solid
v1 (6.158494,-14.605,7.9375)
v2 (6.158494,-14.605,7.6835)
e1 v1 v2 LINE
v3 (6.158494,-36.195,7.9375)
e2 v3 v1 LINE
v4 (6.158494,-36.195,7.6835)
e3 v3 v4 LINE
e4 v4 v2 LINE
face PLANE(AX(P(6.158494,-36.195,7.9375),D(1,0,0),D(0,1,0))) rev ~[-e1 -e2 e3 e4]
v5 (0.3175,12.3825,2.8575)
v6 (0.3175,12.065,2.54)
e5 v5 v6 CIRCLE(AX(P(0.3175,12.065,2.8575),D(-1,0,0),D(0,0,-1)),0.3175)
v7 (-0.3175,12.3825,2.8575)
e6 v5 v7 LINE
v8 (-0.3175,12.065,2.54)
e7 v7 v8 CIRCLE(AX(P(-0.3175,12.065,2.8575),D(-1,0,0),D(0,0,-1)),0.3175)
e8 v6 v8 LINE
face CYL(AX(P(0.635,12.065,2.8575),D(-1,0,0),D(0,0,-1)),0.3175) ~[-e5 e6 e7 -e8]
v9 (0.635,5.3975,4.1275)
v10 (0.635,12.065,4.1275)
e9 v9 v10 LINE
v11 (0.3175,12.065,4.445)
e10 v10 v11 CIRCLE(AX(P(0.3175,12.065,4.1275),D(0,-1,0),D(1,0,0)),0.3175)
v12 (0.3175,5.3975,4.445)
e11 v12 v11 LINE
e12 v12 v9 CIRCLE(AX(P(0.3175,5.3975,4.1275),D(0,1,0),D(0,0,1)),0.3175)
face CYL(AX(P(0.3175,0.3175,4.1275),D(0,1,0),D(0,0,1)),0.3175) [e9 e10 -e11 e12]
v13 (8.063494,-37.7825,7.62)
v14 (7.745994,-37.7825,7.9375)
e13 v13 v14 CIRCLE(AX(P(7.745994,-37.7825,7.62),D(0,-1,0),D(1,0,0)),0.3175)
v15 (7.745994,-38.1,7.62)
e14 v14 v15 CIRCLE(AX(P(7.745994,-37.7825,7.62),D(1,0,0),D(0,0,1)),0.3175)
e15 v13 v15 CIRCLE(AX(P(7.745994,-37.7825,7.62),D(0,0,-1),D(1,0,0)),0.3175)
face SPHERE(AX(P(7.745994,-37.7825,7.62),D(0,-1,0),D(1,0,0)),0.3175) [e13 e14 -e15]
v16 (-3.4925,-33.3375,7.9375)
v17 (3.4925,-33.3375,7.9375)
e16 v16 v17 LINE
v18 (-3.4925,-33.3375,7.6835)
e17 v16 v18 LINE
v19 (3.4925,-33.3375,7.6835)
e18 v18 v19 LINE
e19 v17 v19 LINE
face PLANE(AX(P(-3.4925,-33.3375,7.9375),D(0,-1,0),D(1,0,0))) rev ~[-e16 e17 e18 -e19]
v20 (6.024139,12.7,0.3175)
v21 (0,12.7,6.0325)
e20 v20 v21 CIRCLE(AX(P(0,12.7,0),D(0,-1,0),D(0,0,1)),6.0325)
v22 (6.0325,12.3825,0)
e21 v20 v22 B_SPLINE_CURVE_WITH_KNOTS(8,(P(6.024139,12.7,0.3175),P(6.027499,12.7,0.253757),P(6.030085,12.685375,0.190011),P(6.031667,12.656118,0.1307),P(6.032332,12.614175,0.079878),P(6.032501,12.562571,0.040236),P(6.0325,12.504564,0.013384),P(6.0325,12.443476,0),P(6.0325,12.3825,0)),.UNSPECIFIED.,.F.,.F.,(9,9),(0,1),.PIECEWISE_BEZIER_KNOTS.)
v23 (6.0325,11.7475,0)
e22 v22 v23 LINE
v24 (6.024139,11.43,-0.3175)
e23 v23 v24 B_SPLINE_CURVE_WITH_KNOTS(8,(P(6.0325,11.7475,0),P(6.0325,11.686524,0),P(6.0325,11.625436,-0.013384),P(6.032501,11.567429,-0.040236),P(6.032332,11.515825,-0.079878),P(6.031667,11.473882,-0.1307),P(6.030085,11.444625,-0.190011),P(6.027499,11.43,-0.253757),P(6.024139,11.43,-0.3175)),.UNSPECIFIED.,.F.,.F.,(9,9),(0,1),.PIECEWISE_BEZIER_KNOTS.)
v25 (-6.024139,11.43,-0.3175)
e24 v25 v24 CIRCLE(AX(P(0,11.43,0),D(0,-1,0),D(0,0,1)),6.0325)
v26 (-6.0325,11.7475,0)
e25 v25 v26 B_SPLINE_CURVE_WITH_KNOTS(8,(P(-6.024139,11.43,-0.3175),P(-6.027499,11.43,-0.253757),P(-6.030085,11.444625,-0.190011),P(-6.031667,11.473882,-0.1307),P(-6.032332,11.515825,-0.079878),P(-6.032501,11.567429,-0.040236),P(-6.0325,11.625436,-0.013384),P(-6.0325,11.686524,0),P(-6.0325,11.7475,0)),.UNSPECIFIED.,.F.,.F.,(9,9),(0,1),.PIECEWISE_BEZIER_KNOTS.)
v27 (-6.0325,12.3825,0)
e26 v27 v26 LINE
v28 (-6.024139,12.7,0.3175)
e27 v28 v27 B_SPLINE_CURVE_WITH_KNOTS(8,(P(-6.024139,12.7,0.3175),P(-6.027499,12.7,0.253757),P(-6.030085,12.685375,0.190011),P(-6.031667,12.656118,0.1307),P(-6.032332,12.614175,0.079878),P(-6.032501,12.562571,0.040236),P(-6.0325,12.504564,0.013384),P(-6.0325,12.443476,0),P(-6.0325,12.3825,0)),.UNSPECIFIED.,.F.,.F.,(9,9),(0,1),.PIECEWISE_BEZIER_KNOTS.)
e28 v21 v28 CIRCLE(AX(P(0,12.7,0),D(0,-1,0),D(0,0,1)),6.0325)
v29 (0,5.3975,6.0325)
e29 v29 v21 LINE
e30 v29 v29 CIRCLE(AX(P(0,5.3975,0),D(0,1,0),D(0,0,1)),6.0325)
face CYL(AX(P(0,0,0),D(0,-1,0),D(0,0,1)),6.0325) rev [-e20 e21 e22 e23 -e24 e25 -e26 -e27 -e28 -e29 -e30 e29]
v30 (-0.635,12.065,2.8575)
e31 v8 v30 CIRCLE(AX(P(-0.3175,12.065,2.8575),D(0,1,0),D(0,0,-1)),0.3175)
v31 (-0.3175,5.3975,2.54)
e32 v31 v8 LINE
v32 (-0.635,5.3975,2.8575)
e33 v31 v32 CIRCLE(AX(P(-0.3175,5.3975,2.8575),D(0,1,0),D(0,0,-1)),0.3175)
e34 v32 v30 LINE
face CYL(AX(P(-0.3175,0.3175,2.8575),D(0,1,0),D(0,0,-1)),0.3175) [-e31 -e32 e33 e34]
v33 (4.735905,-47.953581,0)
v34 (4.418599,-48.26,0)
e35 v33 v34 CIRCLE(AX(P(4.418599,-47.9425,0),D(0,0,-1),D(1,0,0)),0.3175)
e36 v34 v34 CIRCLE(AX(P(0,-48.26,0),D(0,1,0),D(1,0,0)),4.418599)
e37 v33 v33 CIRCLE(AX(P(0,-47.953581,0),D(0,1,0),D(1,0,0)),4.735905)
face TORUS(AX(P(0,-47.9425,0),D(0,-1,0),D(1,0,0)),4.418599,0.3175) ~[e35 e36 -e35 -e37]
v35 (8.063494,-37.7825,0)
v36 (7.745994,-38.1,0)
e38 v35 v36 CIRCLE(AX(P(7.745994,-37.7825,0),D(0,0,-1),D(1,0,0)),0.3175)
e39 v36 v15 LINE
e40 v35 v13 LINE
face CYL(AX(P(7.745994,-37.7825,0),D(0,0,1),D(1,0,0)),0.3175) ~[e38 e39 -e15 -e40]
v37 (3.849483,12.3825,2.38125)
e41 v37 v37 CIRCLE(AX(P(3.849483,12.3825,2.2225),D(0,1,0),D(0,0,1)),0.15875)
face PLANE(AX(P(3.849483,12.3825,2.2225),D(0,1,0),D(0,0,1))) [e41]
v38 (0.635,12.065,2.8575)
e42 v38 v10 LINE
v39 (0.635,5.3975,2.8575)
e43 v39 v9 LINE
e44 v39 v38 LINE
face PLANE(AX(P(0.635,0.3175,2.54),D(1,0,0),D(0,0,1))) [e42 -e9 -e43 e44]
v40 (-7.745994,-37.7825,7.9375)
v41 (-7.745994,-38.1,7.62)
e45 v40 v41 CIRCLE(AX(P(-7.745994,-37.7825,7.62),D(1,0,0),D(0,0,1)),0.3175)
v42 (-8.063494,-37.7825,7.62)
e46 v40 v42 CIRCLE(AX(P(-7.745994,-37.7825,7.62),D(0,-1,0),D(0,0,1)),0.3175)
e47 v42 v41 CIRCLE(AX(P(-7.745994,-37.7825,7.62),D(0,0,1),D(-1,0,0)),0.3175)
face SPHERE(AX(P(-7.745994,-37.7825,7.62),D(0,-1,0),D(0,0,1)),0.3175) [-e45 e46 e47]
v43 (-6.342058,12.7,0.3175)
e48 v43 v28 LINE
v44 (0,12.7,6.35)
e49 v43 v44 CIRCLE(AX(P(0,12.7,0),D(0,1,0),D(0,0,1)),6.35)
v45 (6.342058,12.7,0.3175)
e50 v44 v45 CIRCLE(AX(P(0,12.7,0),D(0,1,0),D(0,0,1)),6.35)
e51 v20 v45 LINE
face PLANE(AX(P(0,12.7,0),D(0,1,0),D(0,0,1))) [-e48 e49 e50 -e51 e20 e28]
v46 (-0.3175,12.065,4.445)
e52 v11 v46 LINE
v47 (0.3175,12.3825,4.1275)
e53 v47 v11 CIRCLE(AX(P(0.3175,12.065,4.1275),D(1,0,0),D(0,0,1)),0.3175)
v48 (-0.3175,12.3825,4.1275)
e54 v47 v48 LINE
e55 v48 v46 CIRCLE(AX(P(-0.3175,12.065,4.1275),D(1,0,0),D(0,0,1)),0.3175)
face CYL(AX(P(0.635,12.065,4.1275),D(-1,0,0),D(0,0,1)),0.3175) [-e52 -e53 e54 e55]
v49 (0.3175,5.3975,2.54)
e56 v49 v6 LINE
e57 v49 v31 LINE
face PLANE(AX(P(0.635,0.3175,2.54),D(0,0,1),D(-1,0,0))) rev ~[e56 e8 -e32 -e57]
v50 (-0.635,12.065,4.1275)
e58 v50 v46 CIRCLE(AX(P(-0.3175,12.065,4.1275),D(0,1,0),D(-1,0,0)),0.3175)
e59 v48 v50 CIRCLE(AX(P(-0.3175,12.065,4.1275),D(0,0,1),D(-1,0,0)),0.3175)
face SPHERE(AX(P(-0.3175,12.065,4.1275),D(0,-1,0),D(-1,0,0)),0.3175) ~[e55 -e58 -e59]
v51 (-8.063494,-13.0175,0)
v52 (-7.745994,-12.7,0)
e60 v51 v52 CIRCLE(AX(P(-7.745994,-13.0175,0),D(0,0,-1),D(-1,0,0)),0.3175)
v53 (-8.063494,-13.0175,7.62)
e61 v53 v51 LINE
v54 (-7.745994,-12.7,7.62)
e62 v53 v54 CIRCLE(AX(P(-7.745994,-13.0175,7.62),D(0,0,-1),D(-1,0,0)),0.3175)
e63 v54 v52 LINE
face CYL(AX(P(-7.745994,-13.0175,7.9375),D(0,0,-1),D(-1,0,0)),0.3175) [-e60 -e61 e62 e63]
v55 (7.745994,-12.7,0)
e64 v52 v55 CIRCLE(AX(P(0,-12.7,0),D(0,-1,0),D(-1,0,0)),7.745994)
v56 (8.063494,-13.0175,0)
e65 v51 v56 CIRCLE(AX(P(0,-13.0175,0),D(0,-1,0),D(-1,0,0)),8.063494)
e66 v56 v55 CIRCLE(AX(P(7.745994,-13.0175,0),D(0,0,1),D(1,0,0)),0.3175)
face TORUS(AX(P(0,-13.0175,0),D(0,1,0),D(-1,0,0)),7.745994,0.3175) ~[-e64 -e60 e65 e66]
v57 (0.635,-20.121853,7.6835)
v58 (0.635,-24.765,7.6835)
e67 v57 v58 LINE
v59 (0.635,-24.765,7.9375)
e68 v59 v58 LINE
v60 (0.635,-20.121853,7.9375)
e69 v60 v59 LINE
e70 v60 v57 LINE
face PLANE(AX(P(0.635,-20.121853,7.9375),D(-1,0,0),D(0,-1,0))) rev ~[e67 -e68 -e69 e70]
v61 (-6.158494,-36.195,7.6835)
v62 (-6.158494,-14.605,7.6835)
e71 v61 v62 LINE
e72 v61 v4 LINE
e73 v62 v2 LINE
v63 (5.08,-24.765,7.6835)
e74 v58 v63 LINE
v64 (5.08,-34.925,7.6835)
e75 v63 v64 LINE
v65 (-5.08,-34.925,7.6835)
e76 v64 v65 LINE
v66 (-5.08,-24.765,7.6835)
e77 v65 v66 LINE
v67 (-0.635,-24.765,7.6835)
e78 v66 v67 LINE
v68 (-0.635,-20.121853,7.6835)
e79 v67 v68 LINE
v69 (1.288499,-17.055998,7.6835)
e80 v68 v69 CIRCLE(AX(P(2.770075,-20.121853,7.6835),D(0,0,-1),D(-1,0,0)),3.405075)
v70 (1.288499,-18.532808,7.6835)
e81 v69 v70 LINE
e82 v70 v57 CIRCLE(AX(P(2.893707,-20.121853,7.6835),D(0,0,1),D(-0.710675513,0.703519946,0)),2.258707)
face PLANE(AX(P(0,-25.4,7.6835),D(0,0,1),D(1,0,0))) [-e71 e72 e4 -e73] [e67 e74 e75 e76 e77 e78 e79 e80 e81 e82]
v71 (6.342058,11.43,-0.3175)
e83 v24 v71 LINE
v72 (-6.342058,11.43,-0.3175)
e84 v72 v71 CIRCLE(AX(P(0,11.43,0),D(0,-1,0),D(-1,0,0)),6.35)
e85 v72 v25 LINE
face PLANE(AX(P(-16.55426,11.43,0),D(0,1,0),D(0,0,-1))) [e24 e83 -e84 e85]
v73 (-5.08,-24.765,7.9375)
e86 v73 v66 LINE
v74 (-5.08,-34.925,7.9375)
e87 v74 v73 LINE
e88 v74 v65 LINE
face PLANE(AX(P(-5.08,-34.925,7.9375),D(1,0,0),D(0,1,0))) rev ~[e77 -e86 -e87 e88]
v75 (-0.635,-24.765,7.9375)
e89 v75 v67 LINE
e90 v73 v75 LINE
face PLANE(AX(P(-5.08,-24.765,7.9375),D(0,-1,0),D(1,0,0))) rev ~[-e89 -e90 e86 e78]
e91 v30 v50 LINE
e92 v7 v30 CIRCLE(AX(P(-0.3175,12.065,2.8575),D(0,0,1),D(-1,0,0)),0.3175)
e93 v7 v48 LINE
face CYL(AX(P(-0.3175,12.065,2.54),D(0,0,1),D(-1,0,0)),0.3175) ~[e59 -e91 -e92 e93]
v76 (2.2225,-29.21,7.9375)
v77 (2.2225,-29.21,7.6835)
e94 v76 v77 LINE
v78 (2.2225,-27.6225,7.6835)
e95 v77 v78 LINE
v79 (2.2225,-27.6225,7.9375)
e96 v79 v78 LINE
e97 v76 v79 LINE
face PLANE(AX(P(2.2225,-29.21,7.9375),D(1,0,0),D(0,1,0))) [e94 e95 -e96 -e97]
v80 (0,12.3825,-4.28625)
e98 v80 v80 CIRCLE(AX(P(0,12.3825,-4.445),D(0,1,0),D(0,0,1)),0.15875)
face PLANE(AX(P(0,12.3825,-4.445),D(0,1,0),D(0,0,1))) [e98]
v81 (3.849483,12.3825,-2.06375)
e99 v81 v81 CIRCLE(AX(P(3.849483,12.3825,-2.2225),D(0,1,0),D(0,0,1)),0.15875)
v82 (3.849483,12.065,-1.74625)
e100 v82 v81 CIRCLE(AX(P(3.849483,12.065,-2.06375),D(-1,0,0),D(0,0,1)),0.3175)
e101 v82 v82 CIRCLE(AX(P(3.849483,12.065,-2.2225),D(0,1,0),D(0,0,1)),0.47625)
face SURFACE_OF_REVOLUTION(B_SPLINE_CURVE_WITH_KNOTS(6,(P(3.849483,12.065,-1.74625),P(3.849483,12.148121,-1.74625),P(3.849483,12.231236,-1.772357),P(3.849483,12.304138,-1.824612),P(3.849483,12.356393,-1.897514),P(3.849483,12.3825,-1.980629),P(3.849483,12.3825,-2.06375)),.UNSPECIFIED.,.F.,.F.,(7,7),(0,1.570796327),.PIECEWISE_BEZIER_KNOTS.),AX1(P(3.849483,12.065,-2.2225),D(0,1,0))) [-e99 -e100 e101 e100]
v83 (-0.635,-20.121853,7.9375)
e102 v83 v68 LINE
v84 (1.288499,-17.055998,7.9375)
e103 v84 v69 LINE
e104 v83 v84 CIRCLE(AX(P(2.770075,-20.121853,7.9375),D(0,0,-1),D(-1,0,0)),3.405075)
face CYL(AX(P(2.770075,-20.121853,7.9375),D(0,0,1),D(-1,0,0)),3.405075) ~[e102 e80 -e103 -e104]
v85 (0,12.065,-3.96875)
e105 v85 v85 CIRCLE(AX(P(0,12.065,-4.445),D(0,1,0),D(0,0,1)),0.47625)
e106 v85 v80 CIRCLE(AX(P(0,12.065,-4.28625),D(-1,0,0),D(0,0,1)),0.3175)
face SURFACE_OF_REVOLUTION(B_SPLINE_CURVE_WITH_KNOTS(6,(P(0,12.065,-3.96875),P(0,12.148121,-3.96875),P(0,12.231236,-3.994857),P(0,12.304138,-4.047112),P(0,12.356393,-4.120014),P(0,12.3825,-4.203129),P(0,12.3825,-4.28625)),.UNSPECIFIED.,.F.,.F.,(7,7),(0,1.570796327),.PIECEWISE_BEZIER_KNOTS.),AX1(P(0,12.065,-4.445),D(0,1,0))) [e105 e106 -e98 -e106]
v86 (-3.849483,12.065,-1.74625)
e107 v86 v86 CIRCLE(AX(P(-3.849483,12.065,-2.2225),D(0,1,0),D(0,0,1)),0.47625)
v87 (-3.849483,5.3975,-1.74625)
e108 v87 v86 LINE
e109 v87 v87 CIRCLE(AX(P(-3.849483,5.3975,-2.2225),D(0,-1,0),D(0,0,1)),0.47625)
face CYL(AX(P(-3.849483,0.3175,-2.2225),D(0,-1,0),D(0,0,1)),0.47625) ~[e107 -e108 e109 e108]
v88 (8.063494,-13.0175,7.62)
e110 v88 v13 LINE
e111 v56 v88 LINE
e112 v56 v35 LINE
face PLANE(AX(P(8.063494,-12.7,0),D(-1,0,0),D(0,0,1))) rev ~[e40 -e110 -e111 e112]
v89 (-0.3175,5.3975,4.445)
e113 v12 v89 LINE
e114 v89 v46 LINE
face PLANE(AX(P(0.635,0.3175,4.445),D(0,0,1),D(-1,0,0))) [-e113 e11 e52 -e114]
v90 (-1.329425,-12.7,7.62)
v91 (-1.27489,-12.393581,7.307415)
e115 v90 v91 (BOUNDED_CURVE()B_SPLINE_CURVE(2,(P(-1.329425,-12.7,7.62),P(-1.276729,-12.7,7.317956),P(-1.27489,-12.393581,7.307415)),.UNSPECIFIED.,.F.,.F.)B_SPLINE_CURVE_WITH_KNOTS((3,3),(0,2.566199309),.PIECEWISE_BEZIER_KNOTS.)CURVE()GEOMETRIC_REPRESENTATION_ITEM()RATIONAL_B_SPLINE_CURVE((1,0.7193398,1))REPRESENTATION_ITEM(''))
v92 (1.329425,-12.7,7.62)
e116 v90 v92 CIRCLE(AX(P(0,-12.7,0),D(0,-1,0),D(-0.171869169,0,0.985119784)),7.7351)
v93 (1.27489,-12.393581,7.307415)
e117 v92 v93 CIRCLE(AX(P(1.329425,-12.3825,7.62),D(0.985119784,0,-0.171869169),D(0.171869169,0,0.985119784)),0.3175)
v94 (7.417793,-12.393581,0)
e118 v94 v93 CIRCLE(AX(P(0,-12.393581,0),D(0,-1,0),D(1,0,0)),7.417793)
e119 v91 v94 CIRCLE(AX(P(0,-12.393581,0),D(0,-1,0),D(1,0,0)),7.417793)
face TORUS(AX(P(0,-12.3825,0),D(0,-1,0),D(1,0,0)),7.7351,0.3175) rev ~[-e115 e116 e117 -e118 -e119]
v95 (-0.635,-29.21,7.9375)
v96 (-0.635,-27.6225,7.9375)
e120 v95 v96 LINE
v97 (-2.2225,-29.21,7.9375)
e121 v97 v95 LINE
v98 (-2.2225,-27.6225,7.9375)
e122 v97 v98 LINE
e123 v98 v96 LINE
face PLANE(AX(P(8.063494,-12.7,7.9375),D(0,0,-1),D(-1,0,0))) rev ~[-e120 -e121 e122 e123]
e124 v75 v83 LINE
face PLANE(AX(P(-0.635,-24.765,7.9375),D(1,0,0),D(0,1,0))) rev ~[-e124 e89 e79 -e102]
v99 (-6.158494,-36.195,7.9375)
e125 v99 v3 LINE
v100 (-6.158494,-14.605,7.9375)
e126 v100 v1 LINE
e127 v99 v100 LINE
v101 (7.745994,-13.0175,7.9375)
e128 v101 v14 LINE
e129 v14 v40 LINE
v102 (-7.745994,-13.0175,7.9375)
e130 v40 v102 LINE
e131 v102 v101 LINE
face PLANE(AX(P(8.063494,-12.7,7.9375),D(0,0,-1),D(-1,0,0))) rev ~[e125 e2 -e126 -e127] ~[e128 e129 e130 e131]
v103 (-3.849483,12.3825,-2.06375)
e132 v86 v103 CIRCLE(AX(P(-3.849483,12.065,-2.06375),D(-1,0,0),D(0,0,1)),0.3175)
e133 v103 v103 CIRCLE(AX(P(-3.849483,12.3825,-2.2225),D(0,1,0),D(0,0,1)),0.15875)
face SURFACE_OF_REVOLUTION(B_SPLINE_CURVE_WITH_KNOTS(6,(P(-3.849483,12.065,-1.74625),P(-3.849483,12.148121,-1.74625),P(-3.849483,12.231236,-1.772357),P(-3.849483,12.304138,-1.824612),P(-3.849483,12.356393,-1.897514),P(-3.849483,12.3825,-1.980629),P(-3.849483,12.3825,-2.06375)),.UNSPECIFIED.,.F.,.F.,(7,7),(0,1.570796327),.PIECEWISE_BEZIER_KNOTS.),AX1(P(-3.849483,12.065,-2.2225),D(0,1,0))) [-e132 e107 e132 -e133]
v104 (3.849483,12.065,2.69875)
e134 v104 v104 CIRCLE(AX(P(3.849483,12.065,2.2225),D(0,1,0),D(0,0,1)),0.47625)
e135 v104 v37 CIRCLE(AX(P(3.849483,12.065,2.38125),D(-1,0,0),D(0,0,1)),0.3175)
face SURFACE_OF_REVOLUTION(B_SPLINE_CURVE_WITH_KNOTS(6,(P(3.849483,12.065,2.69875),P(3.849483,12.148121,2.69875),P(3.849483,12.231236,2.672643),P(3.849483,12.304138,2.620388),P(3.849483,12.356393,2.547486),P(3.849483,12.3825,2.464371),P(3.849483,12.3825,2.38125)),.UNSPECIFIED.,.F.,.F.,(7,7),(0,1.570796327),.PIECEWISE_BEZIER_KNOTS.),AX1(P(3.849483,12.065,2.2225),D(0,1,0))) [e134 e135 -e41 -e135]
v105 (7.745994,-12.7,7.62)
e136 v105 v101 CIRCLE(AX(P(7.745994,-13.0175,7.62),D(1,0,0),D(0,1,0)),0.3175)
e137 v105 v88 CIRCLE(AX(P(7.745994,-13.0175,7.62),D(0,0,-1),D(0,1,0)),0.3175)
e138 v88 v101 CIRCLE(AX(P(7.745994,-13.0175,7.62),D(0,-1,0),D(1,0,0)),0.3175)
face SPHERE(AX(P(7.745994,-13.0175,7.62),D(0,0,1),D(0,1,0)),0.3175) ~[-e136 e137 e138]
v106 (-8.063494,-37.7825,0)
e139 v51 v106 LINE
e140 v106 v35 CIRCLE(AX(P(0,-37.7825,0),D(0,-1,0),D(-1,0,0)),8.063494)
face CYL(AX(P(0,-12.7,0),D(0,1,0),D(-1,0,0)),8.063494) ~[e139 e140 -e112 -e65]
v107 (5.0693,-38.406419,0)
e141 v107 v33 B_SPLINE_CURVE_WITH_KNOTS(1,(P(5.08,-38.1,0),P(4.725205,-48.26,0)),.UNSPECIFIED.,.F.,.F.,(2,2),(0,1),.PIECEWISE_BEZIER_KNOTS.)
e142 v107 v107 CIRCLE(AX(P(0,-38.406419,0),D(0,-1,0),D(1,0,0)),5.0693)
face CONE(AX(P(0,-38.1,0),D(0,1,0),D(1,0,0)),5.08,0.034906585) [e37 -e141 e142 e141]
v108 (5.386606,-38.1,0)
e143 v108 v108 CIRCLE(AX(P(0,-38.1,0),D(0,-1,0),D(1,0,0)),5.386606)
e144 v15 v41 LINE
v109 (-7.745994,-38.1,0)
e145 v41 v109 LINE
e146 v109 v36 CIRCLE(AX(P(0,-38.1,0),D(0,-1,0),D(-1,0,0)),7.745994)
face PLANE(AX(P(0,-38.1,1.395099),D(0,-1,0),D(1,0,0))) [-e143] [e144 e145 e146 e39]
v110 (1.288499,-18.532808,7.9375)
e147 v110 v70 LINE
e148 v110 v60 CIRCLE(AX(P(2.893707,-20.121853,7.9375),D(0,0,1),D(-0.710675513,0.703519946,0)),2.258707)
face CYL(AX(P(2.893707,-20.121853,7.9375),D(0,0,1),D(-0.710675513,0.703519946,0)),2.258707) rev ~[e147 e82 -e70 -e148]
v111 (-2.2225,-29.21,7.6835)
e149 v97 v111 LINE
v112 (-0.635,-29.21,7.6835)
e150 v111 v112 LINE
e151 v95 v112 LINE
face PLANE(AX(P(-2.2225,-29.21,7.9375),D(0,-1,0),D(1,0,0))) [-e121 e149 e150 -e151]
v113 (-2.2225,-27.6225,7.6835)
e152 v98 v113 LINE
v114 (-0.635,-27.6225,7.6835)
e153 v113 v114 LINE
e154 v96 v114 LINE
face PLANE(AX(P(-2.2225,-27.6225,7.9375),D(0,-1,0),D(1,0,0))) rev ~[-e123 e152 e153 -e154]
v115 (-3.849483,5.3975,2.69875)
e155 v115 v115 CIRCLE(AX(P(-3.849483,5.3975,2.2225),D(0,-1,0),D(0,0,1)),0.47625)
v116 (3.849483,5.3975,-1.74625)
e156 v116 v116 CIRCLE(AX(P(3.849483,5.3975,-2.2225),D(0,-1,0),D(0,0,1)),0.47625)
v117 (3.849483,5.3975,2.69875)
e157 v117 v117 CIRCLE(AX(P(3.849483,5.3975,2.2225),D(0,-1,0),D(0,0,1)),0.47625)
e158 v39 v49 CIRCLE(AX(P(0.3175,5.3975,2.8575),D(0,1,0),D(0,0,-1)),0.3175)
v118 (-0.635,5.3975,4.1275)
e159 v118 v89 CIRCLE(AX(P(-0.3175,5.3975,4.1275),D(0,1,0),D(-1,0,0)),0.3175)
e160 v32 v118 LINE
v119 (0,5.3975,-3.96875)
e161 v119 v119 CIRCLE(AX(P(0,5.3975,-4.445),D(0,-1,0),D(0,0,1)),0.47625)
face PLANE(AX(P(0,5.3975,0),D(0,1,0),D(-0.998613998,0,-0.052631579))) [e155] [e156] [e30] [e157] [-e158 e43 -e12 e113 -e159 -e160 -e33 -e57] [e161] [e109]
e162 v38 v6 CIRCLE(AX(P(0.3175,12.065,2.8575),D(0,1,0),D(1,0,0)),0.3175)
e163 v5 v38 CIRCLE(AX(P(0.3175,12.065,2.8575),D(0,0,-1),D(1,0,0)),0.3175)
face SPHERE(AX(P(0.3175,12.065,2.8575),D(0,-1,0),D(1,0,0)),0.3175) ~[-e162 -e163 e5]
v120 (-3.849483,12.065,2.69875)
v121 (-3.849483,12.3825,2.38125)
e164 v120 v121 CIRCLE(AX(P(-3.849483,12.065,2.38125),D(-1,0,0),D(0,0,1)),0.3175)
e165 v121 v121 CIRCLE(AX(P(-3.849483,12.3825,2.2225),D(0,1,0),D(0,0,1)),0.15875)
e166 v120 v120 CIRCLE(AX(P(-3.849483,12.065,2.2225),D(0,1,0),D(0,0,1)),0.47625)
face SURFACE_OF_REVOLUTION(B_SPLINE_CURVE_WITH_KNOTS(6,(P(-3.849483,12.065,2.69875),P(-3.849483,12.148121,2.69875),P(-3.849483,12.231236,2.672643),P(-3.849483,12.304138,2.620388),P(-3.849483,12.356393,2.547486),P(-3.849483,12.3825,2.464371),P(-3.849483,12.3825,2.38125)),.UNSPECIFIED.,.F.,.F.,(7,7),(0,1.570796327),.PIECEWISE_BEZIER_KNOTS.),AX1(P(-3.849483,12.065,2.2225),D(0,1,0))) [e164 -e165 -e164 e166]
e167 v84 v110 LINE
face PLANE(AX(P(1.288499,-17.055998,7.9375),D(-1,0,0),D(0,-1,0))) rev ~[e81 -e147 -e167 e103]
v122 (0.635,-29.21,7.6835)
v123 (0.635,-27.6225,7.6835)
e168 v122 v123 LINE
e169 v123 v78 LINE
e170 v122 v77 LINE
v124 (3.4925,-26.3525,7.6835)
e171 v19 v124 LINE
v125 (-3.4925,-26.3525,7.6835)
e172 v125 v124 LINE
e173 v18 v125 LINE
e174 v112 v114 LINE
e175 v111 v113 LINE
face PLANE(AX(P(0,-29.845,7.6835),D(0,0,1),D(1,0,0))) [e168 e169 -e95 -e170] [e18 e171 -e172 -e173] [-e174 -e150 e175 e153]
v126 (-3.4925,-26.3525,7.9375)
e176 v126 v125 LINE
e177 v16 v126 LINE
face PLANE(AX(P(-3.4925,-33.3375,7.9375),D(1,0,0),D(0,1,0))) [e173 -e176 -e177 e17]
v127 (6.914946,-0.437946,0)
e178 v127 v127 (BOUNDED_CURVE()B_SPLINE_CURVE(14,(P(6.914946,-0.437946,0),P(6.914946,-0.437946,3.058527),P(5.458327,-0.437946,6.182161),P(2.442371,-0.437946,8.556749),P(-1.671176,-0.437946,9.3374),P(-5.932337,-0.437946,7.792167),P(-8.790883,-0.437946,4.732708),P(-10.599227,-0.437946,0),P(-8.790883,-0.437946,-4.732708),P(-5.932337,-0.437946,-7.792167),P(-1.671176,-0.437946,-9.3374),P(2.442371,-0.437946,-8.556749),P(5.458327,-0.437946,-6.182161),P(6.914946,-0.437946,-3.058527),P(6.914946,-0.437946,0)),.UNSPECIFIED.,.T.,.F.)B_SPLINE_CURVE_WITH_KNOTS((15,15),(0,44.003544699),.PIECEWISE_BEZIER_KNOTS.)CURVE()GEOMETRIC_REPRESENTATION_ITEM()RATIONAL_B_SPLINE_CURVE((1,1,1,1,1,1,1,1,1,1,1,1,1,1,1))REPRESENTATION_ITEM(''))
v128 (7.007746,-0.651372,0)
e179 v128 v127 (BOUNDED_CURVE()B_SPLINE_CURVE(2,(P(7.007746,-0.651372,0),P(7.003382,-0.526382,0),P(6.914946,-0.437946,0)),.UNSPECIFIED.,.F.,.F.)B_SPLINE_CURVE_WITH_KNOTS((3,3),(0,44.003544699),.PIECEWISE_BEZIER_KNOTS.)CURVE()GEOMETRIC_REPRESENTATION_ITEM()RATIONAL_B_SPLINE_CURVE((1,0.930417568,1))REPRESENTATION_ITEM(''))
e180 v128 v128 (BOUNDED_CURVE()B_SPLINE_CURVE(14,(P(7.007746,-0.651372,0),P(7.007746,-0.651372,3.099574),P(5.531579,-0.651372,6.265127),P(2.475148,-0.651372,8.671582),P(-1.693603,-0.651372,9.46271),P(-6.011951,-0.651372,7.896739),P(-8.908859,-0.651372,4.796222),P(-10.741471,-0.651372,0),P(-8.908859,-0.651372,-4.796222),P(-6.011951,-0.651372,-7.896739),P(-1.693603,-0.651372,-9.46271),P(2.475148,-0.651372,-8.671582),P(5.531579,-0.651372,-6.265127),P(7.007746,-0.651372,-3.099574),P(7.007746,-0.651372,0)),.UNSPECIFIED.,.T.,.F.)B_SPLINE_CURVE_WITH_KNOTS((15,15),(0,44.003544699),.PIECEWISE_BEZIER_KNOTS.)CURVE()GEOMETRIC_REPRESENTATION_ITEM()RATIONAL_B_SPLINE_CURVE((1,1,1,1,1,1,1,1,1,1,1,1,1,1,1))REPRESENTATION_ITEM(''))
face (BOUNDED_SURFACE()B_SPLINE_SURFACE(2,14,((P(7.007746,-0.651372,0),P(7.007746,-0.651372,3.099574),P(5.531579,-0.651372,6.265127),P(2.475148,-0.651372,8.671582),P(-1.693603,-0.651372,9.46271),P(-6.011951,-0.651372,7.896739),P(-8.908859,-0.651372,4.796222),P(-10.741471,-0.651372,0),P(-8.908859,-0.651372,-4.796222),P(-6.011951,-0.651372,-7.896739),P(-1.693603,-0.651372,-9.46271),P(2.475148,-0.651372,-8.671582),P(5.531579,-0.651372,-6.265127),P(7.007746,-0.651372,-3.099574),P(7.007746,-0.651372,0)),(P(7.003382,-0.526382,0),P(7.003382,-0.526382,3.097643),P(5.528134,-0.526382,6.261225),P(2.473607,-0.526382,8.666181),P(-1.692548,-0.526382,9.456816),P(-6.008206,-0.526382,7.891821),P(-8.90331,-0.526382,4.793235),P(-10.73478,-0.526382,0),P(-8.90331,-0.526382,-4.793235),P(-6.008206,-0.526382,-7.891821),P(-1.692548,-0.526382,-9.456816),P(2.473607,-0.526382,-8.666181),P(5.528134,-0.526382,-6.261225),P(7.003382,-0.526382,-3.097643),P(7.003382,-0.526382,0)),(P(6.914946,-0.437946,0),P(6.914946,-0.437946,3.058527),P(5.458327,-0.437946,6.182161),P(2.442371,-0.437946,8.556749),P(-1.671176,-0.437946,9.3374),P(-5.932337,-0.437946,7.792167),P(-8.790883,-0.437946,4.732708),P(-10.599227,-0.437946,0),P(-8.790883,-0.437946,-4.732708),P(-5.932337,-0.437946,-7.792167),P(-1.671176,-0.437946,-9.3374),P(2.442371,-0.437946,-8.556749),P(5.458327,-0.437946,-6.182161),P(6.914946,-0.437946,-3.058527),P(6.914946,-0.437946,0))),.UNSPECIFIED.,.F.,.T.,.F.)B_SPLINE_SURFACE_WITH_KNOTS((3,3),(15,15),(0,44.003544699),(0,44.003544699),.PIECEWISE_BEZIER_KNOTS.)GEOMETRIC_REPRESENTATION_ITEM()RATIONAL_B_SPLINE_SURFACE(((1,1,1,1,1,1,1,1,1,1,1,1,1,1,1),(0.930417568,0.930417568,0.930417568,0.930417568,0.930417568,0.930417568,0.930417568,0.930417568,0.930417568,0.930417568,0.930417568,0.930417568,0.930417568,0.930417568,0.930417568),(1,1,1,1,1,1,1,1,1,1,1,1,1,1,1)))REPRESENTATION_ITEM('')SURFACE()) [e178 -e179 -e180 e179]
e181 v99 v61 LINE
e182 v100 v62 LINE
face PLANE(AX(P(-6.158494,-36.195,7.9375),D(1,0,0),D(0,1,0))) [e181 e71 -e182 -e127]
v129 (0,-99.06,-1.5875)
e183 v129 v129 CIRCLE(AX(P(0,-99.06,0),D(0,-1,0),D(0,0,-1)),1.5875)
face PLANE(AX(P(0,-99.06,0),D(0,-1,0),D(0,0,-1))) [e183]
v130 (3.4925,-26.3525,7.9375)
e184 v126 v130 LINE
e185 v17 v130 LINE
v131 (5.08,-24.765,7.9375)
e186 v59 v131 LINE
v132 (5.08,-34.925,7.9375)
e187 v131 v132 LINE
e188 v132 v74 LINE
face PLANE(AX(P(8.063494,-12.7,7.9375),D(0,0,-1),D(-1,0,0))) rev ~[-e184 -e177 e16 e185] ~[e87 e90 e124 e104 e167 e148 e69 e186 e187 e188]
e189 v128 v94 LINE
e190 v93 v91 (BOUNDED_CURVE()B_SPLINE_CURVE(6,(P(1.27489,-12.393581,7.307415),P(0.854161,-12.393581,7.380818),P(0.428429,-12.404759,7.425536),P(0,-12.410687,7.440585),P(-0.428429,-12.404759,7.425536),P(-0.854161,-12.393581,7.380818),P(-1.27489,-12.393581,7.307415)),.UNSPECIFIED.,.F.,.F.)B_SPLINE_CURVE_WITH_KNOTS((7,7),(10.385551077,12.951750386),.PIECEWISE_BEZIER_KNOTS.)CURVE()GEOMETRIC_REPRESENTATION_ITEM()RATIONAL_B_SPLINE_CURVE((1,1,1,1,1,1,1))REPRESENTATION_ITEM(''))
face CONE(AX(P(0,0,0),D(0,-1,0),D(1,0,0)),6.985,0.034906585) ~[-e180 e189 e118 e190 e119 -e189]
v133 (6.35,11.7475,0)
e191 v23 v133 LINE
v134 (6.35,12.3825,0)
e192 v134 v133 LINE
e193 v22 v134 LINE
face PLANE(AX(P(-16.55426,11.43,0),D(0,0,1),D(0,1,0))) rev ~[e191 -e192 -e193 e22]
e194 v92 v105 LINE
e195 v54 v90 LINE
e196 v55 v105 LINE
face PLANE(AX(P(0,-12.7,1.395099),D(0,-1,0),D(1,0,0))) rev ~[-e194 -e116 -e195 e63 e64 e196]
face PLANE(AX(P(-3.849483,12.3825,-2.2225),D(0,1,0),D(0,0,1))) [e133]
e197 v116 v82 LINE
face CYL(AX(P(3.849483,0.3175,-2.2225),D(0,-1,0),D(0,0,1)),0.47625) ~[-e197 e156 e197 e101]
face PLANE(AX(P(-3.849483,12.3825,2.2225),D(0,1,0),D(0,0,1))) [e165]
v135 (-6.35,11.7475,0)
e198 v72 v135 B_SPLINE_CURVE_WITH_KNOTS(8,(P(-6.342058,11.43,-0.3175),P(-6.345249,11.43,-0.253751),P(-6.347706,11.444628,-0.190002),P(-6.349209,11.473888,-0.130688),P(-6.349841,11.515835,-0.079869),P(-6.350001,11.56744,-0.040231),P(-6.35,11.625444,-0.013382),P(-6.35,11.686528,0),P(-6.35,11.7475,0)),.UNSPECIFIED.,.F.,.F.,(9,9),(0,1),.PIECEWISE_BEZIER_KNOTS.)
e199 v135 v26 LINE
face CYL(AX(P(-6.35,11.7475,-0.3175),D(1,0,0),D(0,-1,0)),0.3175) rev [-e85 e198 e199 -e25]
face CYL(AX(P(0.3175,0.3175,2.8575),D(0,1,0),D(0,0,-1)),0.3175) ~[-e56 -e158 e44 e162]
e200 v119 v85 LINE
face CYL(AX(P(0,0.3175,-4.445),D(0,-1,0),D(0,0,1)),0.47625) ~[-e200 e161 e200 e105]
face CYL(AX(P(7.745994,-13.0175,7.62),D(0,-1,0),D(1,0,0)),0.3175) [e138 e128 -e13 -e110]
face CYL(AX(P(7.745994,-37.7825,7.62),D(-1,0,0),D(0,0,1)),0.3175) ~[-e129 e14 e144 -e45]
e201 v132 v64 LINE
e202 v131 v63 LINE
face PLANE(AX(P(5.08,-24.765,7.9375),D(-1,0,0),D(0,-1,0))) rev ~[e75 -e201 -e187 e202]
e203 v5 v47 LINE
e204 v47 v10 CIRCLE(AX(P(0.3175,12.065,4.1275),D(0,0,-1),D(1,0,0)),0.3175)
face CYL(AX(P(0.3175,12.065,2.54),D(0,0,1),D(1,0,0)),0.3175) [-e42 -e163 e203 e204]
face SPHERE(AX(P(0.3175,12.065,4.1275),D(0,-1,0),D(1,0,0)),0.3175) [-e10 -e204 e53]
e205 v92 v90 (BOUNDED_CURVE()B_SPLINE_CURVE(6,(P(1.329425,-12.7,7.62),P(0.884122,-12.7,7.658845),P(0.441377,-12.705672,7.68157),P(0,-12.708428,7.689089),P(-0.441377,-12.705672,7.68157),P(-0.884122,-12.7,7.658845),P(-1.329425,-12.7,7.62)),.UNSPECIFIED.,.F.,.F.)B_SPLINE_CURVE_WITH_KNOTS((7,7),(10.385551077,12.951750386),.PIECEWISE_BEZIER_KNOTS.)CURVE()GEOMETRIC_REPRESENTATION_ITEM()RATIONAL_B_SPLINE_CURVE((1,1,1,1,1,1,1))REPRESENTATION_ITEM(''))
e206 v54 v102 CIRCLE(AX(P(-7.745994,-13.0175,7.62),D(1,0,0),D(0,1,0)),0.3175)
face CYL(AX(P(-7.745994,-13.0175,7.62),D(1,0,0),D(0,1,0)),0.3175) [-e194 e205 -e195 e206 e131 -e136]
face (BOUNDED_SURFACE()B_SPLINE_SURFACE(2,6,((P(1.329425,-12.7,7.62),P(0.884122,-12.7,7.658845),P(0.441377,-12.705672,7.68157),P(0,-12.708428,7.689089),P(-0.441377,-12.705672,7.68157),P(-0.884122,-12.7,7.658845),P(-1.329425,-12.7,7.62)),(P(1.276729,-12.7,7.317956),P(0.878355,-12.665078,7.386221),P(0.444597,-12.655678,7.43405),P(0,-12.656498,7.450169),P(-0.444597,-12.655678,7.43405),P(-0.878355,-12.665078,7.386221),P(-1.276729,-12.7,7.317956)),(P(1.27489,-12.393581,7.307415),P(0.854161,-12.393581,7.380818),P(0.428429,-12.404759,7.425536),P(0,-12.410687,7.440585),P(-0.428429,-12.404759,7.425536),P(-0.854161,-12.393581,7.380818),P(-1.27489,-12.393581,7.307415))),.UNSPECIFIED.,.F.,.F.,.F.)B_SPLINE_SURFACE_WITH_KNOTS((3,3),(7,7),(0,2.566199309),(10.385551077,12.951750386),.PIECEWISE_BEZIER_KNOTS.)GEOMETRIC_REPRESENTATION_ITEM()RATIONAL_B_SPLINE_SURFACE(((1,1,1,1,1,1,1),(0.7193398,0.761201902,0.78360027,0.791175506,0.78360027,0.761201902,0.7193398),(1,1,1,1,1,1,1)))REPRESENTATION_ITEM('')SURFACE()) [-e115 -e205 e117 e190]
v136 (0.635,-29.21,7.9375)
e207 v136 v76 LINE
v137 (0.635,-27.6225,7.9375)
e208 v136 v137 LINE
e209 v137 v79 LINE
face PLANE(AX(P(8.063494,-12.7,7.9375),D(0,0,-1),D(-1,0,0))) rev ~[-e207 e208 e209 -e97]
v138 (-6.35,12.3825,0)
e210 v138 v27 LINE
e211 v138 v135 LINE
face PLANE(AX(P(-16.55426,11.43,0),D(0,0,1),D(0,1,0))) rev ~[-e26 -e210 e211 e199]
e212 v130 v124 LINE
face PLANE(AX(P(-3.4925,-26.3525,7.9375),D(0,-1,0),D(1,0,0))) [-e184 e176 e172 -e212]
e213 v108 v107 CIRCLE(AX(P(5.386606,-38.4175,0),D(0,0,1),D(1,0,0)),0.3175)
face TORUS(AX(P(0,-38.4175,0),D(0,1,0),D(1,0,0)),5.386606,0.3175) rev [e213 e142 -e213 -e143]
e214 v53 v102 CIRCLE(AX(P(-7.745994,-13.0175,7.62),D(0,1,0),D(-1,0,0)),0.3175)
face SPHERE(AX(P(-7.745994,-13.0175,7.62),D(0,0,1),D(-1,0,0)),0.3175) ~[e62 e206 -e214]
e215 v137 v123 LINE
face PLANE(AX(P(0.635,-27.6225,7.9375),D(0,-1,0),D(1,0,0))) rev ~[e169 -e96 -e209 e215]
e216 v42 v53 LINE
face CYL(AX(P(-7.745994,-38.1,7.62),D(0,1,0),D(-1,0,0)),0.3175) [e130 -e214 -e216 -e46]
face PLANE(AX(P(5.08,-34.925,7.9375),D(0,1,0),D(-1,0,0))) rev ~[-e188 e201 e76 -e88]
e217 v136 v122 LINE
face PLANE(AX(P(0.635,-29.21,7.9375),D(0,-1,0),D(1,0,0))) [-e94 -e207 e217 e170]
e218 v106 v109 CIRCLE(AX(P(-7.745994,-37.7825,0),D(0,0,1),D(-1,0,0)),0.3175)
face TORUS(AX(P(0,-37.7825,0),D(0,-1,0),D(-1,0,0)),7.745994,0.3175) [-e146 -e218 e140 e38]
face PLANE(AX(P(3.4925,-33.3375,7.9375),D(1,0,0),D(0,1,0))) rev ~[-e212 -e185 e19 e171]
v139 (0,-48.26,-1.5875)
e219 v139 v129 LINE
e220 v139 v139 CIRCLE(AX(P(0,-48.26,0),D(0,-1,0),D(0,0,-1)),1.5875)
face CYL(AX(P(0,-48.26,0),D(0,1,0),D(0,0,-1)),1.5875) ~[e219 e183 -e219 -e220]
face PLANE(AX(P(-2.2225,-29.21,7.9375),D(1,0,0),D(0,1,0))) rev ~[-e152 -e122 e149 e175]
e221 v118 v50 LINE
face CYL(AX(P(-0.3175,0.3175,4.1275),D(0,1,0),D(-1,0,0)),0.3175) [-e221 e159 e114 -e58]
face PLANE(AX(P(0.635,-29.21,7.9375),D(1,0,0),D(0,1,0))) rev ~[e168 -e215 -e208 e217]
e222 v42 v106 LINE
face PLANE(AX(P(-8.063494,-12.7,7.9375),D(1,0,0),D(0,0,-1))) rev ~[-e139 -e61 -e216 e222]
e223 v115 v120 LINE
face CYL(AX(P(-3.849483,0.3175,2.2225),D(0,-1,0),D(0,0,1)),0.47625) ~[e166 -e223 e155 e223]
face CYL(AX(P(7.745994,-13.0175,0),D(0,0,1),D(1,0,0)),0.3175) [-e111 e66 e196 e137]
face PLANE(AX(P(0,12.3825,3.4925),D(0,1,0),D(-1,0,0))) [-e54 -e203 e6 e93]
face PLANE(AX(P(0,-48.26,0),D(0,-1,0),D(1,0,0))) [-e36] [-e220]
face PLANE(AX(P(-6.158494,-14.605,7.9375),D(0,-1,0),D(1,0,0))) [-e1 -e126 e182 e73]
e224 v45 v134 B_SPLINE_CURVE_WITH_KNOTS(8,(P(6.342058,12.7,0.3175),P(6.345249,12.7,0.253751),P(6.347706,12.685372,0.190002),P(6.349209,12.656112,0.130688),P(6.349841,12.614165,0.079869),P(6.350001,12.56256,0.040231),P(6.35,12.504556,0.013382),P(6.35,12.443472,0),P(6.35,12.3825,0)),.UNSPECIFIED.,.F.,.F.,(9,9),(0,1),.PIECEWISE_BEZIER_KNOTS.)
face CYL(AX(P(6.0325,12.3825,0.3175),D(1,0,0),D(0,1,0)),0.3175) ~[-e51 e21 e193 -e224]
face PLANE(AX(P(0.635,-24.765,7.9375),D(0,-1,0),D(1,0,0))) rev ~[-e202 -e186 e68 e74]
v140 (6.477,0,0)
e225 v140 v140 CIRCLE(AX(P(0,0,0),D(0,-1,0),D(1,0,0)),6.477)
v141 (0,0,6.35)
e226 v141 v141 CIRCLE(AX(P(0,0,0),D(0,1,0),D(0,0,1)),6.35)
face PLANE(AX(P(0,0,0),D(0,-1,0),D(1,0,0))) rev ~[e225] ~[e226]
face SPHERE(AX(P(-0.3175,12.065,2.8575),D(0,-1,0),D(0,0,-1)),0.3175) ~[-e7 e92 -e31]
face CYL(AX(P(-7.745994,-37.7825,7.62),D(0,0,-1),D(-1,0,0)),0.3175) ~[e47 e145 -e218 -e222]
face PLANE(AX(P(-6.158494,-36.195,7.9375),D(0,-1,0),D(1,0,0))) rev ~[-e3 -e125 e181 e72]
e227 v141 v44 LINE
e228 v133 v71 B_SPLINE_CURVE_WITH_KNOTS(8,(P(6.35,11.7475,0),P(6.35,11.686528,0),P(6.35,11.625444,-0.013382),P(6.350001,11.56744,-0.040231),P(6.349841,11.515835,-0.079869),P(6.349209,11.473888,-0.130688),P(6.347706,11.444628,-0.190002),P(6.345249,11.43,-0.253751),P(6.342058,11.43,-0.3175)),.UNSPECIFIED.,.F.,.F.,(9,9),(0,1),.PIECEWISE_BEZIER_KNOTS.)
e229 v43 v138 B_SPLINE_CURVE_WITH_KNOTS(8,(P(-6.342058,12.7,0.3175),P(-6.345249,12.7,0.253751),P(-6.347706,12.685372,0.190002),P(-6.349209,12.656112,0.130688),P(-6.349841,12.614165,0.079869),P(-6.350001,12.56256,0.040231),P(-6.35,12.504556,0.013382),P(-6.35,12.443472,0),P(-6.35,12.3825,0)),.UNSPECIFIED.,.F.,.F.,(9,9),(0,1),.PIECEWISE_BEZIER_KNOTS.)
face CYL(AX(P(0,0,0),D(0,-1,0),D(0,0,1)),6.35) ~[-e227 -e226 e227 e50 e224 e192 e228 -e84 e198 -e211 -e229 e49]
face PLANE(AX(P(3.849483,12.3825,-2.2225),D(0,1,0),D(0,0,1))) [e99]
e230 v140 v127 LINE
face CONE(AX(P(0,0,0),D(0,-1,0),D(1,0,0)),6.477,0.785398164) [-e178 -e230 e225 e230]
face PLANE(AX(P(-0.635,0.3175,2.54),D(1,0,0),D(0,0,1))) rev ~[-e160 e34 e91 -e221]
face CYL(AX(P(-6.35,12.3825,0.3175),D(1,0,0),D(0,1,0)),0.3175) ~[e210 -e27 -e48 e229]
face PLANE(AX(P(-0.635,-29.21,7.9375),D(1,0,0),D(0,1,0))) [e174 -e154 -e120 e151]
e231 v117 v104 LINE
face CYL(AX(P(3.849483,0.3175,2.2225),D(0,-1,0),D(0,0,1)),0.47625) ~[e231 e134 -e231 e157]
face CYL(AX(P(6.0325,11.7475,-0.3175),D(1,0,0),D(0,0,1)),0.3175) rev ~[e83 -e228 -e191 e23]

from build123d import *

# Parameters (mm, degrees)
SKETCH1_R               = 6.35
EXTRUDE1_DEPTH          = 12.7
SHELL1_T                = -0.3175
CUT_EXTRUDE1_DEPTH      = 16.554259867
CUT_EXTRUDE1_DEPTH_BACK = 16.554259867
SKETCH2_W               = 6.35
SKETCH2_H               = 1.27
SKETCH3_R               = 0.47625
SKETCH3_W               = 1.27
SKETCH3_H               = 1.905
EXTRUDE2_DEPTH          = 12.065
FILLET2_R               = 0.3175
SKETCH4_R               = 6.985
EXTRUDE5_DEPTH          = 12.7
EXTRUDE5_DRAFT          = -2
CHAMFER1_SIZE           = 0.508
CHAMFER1_SIZE2          = 0.526702505
EXTRUDE6_DEPTH          = 25.4
FILLET8_R               = 0.3175
FILLET9_R               = 0.3175
FILLET10_R              = 0.3175
SKETCH6_R               = 6.0325
EXTRUDE7_DEPTH          = 5.08
SKETCH7_R               = 5.08
EXTRUDE8_DEPTH          = 10.16
EXTRUDE8_TAPER          = 2
FILLET11_R              = 0.3175
SKETCH8_W               = 12.316987546
SKETCH8_H               = 21.59
SKETCH8_W_2             = 6.985
SKETCH8_H_2             = 6.985
SKETCH8_W_3             = 1.5875
SKETCH8_H_3             = 1.5875
CUT_EXTRUDE2_DEPTH      = 0.254
SKETCH9_R               = 1.5875
EXTRUDE9_DEPTH          = 50.8
FILLET12_R              = 0.3175


with BuildPart() as part:
    # Sketch1 → Extrude1 (new body)
    with BuildSketch(Plane(origin=(0, 0, 0), x_dir=(1, 0, 0), z_dir=(0, 1, 0))):
        with Locations(Location((0, 0, 0), (0, 0, 270))):
            Circle(SKETCH1_R)
    extrude(amount=EXTRUDE1_DEPTH)

    # Shell1
    shell1_openings = [part.faces().sort_by_distance(p)[0] for p in [
        (0, 12.7, 0),
    ]]
    offset(amount=SHELL1_T, openings=shell1_openings, kind=Kind.INTERSECTION)

    # Sketch2 → Cut-Extrude1 (cut, two sides: drawn at the far end of the back side and taken through both)
    with BuildSketch(Plane(origin=(0, 0, 0), x_dir=(0, 0, -1), z_dir=(1, 0, 0)).offset(-CUT_EXTRUDE1_DEPTH_BACK)):
        with Locations((3.175, 12.065)):
            Rectangle(SKETCH2_W, SKETCH2_H)
    extrude(amount=CUT_EXTRUDE1_DEPTH + CUT_EXTRUDE1_DEPTH_BACK, mode=Mode.SUBTRACT)

    # Sketch3 → Extrude2 (add)
    with BuildSketch(Plane(origin=(0, 0.3175, 0), x_dir=(-1, 0, 0), z_dir=(0, 1, 0))):
        with Locations(Location((3.84948292, 2.2225, 0), (0, 0, 90))):
            Circle(SKETCH3_R)
        with Locations(Location((3.84948292, -2.2225, 0), (0, 0, 90))):
            Circle(SKETCH3_R)
        with Locations(Location((0, -4.445, 0), (0, 0, 90))):
            Circle(SKETCH3_R)
        with Locations(Location((-3.84948292, -2.2225, 0), (0, 0, 90))):
            Circle(SKETCH3_R)
        with Locations(Location((-3.84948292, 2.2225, 0), (0, 0, 90))):
            Circle(SKETCH3_R)
        with Locations((0, 3.4925)):
            Rectangle(SKETCH3_W, SKETCH3_H)
    extrude(amount=EXTRUDE2_DEPTH)

    # Fillet2
    fillet2_edges = [part.edges().sort_by_distance(p)[0] for p in [
        (-6.19125, 11.43, 0),
        (6.19125, 12.7, 0),
        (-6.19125, 12.7, 0),
        (6.19125, 11.43, 0),
        (0.635, 6.35, 4.445),
        (0.635, 6.35, 2.54),
        (-0.635, 6.35, 2.54),
        (-0.635, 6.35, 4.445),
        (0.635, 12.3825, 3.4925),
        (0, 12.3825, 2.54),
        (-0.635, 12.3825, 3.4925),
        (0, 12.3825, 4.445),
        (-3.84948292, 12.3825, 1.74625),
        (-3.84948292, 12.3825, -2.69875),
        (0, 12.3825, -4.92125),
        (3.84948292, 12.3825, -2.69875),
        (3.84948292, 12.3825, 1.74625),
    ]]
    fillet(fillet2_edges, radius=FILLET2_R)


with BuildPart() as extrude5_tool:
    # Sketch4 → Extrude5 (with draft: the straight prism first)
    with BuildSketch(Plane.XZ):
        Circle(SKETCH4_R)
    extrude(amount=EXTRUDE5_DEPTH)
    # Extrude5: the draft: its side faces are tilted about the plane it starts from
    extrude5_sides = [extrude5_tool.faces().sort_by_distance(p)[0] for p in [
        (-6.985, -6.35, 0),
    ]]
    draft(extrude5_sides, Plane.XZ, EXTRUDE5_DRAFT)


with BuildPart() as part_1:
    add(part.part)

    # Extrude5: add extrude5_tool
    add(extrude5_tool.part)

    # Chamfer1
    chamfer1_edges = [part_1.edges().sort_by_distance(p)[0] for p in [
        (-6.985, 0, 0),
    ]]
    chamfer1_side = [part_1.faces().sort_by_distance(p)[0] for p in [
        (-6.787434365, 0, 0),
    ]]
    chamfer(chamfer1_edges, length=CHAMFER1_SIZE, length2=CHAMFER1_SIZE2, reference=chamfer1_side[0])

    # Sketch5 → Extrude6 (add)
    with BuildSketch(Plane.XZ.offset(12.7)):
        with BuildLine():
            Line((8.063493773, 0), (8.063493773, 7.9375))
            Line((8.063493773, 7.9375), (-8.063493773, 7.9375))
            Line((-8.063493773, 7.9375), (-8.063493773, 0))
            ThreePointArc((-8.063493773, 0), (0, -8.063493773), (8.063493773, 0))
        make_face()
    extrude(amount=EXTRUDE6_DEPTH)

    # Fillet8
    fillet8_edges = [part_1.edges().sort_by_distance(p)[0] for p in [
        (0, -12.7, -8.063493773),
        (8.063493773, -12.7, 3.96875),
        (-8.063493773, -12.7, 3.96875),
    ]]
    fillet(fillet8_edges, radius=FILLET8_R)

    # Fillet9
    fillet9_edges = [part_1.edges().sort_by_distance(p)[0] for p in [
        (8.063493773, -25.55875, 7.9375),
        (-8.063493773, -25.55875, 7.9375),
        (0, -12.7, 7.9375),
        (7.970500176, -12.792993597, 7.9375),
        (-7.970500176, -12.792993597, 7.9375),
    ]]
    fillet(fillet9_edges, radius=FILLET9_R)

    # Fillet10
    fillet10_edges = [part_1.edges().sort_by_distance(p)[0] for p in [
        (-7.428493773, -12.7, 0),
        (-7.003381652, -0.526381652, 0),
    ]]
    fillet(fillet10_edges, radius=FILLET10_R)

    # Sketch6 → Extrude7 (add)
    with BuildSketch(Plane(origin=(0, 0.3175, 0), x_dir=(-1, 0, 0), z_dir=(0, 1, 0))):
        with Locations(Location((0, 0, 0), (0, 0, 356.98303869))):
            Circle(SKETCH6_R)
    extrude(amount=EXTRUDE7_DEPTH)

    # Sketch7 → Extrude8 (add)
    with BuildSketch(Plane.XZ.offset(38.1)):
        Circle(SKETCH7_R)
    extrude(amount=EXTRUDE8_DEPTH, taper=EXTRUDE8_TAPER)

    # Fillet11
    fillet11_edges = [part_1.edges().sort_by_distance(p)[0] for p in [
        (0, -38.1, -8.063493773),
        (8.063493773, -38.1, 3.81),
        (0, -38.1, 7.9375),
        (-8.063493773, -38.1, 3.81),
        (-7.970500176, -38.1, 7.844506403),
        (7.970500176, -38.1, 7.844506403),
        (-5.08, -38.1, 0),
    ]]
    fillet(fillet11_edges, radius=FILLET11_R)

    # Sketch8 → Cut-Extrude2 (cut)
    # profile 1 of 2: a face of its own
    with BuildSketch(Plane.XY.offset(7.9375)):
        with Locations((0, -25.4)):
            Rectangle(SKETCH8_W, SKETCH8_H)
        with BuildLine():
            ThreePointArc((-0.635, -20.121853443), (-0.114315082, -18.312204411), (1.288499254, -17.055998081))
            Line((1.288499254, -17.055998081), (1.288499254, -18.53280799))
            ThreePointArc((1.288499254, -18.53280799), (0.804753759, -19.26276574), (0.635, -20.121853443))
            Line((0.635, -20.121853443), (0.635, -24.765))
            Line((0.635, -24.765), (5.08, -24.765))
            Line((5.08, -24.765), (5.08, -34.925))
            Line((5.08, -34.925), (-5.08, -34.925))
            Line((-5.08, -34.925), (-5.08, -24.765))
            Line((-5.08, -24.765), (-0.635, -24.765))
            Line((-0.635, -24.765), (-0.635, -20.121853443))
        make_face(mode=Mode.SUBTRACT)
    # profile 2 of 2: a face of its own
    with BuildSketch(Plane.XY.offset(7.9375)):
        with Locations((0, -29.845)):
            Rectangle(SKETCH8_W_2, SKETCH8_H_2)
        with Locations((-1.42875, -28.41625)):
            Rectangle(SKETCH8_W_3, SKETCH8_H_3, mode=Mode.SUBTRACT)
        with Locations((1.42875, -28.41625)):
            Rectangle(SKETCH8_W_3, SKETCH8_H_3, mode=Mode.SUBTRACT)
    extrude(amount=-CUT_EXTRUDE2_DEPTH, mode=Mode.SUBTRACT)

    # Sketch9 → Extrude9 (add)
    with BuildSketch(Plane.XZ.offset(48.26)):
        with Locations(Location((0, 0, 0), (0, 0, 270))):
            Circle(SKETCH9_R)
    extrude(amount=EXTRUDE9_DEPTH)

    # Fillet12
    fillet12_edges = [part_1.edges().sort_by_distance(p)[0] for p in [
        (-4.725204982, -48.26, 0),
    ]]
    fillet(fillet12_edges, radius=FILLET12_R)


solid = part_1.part
